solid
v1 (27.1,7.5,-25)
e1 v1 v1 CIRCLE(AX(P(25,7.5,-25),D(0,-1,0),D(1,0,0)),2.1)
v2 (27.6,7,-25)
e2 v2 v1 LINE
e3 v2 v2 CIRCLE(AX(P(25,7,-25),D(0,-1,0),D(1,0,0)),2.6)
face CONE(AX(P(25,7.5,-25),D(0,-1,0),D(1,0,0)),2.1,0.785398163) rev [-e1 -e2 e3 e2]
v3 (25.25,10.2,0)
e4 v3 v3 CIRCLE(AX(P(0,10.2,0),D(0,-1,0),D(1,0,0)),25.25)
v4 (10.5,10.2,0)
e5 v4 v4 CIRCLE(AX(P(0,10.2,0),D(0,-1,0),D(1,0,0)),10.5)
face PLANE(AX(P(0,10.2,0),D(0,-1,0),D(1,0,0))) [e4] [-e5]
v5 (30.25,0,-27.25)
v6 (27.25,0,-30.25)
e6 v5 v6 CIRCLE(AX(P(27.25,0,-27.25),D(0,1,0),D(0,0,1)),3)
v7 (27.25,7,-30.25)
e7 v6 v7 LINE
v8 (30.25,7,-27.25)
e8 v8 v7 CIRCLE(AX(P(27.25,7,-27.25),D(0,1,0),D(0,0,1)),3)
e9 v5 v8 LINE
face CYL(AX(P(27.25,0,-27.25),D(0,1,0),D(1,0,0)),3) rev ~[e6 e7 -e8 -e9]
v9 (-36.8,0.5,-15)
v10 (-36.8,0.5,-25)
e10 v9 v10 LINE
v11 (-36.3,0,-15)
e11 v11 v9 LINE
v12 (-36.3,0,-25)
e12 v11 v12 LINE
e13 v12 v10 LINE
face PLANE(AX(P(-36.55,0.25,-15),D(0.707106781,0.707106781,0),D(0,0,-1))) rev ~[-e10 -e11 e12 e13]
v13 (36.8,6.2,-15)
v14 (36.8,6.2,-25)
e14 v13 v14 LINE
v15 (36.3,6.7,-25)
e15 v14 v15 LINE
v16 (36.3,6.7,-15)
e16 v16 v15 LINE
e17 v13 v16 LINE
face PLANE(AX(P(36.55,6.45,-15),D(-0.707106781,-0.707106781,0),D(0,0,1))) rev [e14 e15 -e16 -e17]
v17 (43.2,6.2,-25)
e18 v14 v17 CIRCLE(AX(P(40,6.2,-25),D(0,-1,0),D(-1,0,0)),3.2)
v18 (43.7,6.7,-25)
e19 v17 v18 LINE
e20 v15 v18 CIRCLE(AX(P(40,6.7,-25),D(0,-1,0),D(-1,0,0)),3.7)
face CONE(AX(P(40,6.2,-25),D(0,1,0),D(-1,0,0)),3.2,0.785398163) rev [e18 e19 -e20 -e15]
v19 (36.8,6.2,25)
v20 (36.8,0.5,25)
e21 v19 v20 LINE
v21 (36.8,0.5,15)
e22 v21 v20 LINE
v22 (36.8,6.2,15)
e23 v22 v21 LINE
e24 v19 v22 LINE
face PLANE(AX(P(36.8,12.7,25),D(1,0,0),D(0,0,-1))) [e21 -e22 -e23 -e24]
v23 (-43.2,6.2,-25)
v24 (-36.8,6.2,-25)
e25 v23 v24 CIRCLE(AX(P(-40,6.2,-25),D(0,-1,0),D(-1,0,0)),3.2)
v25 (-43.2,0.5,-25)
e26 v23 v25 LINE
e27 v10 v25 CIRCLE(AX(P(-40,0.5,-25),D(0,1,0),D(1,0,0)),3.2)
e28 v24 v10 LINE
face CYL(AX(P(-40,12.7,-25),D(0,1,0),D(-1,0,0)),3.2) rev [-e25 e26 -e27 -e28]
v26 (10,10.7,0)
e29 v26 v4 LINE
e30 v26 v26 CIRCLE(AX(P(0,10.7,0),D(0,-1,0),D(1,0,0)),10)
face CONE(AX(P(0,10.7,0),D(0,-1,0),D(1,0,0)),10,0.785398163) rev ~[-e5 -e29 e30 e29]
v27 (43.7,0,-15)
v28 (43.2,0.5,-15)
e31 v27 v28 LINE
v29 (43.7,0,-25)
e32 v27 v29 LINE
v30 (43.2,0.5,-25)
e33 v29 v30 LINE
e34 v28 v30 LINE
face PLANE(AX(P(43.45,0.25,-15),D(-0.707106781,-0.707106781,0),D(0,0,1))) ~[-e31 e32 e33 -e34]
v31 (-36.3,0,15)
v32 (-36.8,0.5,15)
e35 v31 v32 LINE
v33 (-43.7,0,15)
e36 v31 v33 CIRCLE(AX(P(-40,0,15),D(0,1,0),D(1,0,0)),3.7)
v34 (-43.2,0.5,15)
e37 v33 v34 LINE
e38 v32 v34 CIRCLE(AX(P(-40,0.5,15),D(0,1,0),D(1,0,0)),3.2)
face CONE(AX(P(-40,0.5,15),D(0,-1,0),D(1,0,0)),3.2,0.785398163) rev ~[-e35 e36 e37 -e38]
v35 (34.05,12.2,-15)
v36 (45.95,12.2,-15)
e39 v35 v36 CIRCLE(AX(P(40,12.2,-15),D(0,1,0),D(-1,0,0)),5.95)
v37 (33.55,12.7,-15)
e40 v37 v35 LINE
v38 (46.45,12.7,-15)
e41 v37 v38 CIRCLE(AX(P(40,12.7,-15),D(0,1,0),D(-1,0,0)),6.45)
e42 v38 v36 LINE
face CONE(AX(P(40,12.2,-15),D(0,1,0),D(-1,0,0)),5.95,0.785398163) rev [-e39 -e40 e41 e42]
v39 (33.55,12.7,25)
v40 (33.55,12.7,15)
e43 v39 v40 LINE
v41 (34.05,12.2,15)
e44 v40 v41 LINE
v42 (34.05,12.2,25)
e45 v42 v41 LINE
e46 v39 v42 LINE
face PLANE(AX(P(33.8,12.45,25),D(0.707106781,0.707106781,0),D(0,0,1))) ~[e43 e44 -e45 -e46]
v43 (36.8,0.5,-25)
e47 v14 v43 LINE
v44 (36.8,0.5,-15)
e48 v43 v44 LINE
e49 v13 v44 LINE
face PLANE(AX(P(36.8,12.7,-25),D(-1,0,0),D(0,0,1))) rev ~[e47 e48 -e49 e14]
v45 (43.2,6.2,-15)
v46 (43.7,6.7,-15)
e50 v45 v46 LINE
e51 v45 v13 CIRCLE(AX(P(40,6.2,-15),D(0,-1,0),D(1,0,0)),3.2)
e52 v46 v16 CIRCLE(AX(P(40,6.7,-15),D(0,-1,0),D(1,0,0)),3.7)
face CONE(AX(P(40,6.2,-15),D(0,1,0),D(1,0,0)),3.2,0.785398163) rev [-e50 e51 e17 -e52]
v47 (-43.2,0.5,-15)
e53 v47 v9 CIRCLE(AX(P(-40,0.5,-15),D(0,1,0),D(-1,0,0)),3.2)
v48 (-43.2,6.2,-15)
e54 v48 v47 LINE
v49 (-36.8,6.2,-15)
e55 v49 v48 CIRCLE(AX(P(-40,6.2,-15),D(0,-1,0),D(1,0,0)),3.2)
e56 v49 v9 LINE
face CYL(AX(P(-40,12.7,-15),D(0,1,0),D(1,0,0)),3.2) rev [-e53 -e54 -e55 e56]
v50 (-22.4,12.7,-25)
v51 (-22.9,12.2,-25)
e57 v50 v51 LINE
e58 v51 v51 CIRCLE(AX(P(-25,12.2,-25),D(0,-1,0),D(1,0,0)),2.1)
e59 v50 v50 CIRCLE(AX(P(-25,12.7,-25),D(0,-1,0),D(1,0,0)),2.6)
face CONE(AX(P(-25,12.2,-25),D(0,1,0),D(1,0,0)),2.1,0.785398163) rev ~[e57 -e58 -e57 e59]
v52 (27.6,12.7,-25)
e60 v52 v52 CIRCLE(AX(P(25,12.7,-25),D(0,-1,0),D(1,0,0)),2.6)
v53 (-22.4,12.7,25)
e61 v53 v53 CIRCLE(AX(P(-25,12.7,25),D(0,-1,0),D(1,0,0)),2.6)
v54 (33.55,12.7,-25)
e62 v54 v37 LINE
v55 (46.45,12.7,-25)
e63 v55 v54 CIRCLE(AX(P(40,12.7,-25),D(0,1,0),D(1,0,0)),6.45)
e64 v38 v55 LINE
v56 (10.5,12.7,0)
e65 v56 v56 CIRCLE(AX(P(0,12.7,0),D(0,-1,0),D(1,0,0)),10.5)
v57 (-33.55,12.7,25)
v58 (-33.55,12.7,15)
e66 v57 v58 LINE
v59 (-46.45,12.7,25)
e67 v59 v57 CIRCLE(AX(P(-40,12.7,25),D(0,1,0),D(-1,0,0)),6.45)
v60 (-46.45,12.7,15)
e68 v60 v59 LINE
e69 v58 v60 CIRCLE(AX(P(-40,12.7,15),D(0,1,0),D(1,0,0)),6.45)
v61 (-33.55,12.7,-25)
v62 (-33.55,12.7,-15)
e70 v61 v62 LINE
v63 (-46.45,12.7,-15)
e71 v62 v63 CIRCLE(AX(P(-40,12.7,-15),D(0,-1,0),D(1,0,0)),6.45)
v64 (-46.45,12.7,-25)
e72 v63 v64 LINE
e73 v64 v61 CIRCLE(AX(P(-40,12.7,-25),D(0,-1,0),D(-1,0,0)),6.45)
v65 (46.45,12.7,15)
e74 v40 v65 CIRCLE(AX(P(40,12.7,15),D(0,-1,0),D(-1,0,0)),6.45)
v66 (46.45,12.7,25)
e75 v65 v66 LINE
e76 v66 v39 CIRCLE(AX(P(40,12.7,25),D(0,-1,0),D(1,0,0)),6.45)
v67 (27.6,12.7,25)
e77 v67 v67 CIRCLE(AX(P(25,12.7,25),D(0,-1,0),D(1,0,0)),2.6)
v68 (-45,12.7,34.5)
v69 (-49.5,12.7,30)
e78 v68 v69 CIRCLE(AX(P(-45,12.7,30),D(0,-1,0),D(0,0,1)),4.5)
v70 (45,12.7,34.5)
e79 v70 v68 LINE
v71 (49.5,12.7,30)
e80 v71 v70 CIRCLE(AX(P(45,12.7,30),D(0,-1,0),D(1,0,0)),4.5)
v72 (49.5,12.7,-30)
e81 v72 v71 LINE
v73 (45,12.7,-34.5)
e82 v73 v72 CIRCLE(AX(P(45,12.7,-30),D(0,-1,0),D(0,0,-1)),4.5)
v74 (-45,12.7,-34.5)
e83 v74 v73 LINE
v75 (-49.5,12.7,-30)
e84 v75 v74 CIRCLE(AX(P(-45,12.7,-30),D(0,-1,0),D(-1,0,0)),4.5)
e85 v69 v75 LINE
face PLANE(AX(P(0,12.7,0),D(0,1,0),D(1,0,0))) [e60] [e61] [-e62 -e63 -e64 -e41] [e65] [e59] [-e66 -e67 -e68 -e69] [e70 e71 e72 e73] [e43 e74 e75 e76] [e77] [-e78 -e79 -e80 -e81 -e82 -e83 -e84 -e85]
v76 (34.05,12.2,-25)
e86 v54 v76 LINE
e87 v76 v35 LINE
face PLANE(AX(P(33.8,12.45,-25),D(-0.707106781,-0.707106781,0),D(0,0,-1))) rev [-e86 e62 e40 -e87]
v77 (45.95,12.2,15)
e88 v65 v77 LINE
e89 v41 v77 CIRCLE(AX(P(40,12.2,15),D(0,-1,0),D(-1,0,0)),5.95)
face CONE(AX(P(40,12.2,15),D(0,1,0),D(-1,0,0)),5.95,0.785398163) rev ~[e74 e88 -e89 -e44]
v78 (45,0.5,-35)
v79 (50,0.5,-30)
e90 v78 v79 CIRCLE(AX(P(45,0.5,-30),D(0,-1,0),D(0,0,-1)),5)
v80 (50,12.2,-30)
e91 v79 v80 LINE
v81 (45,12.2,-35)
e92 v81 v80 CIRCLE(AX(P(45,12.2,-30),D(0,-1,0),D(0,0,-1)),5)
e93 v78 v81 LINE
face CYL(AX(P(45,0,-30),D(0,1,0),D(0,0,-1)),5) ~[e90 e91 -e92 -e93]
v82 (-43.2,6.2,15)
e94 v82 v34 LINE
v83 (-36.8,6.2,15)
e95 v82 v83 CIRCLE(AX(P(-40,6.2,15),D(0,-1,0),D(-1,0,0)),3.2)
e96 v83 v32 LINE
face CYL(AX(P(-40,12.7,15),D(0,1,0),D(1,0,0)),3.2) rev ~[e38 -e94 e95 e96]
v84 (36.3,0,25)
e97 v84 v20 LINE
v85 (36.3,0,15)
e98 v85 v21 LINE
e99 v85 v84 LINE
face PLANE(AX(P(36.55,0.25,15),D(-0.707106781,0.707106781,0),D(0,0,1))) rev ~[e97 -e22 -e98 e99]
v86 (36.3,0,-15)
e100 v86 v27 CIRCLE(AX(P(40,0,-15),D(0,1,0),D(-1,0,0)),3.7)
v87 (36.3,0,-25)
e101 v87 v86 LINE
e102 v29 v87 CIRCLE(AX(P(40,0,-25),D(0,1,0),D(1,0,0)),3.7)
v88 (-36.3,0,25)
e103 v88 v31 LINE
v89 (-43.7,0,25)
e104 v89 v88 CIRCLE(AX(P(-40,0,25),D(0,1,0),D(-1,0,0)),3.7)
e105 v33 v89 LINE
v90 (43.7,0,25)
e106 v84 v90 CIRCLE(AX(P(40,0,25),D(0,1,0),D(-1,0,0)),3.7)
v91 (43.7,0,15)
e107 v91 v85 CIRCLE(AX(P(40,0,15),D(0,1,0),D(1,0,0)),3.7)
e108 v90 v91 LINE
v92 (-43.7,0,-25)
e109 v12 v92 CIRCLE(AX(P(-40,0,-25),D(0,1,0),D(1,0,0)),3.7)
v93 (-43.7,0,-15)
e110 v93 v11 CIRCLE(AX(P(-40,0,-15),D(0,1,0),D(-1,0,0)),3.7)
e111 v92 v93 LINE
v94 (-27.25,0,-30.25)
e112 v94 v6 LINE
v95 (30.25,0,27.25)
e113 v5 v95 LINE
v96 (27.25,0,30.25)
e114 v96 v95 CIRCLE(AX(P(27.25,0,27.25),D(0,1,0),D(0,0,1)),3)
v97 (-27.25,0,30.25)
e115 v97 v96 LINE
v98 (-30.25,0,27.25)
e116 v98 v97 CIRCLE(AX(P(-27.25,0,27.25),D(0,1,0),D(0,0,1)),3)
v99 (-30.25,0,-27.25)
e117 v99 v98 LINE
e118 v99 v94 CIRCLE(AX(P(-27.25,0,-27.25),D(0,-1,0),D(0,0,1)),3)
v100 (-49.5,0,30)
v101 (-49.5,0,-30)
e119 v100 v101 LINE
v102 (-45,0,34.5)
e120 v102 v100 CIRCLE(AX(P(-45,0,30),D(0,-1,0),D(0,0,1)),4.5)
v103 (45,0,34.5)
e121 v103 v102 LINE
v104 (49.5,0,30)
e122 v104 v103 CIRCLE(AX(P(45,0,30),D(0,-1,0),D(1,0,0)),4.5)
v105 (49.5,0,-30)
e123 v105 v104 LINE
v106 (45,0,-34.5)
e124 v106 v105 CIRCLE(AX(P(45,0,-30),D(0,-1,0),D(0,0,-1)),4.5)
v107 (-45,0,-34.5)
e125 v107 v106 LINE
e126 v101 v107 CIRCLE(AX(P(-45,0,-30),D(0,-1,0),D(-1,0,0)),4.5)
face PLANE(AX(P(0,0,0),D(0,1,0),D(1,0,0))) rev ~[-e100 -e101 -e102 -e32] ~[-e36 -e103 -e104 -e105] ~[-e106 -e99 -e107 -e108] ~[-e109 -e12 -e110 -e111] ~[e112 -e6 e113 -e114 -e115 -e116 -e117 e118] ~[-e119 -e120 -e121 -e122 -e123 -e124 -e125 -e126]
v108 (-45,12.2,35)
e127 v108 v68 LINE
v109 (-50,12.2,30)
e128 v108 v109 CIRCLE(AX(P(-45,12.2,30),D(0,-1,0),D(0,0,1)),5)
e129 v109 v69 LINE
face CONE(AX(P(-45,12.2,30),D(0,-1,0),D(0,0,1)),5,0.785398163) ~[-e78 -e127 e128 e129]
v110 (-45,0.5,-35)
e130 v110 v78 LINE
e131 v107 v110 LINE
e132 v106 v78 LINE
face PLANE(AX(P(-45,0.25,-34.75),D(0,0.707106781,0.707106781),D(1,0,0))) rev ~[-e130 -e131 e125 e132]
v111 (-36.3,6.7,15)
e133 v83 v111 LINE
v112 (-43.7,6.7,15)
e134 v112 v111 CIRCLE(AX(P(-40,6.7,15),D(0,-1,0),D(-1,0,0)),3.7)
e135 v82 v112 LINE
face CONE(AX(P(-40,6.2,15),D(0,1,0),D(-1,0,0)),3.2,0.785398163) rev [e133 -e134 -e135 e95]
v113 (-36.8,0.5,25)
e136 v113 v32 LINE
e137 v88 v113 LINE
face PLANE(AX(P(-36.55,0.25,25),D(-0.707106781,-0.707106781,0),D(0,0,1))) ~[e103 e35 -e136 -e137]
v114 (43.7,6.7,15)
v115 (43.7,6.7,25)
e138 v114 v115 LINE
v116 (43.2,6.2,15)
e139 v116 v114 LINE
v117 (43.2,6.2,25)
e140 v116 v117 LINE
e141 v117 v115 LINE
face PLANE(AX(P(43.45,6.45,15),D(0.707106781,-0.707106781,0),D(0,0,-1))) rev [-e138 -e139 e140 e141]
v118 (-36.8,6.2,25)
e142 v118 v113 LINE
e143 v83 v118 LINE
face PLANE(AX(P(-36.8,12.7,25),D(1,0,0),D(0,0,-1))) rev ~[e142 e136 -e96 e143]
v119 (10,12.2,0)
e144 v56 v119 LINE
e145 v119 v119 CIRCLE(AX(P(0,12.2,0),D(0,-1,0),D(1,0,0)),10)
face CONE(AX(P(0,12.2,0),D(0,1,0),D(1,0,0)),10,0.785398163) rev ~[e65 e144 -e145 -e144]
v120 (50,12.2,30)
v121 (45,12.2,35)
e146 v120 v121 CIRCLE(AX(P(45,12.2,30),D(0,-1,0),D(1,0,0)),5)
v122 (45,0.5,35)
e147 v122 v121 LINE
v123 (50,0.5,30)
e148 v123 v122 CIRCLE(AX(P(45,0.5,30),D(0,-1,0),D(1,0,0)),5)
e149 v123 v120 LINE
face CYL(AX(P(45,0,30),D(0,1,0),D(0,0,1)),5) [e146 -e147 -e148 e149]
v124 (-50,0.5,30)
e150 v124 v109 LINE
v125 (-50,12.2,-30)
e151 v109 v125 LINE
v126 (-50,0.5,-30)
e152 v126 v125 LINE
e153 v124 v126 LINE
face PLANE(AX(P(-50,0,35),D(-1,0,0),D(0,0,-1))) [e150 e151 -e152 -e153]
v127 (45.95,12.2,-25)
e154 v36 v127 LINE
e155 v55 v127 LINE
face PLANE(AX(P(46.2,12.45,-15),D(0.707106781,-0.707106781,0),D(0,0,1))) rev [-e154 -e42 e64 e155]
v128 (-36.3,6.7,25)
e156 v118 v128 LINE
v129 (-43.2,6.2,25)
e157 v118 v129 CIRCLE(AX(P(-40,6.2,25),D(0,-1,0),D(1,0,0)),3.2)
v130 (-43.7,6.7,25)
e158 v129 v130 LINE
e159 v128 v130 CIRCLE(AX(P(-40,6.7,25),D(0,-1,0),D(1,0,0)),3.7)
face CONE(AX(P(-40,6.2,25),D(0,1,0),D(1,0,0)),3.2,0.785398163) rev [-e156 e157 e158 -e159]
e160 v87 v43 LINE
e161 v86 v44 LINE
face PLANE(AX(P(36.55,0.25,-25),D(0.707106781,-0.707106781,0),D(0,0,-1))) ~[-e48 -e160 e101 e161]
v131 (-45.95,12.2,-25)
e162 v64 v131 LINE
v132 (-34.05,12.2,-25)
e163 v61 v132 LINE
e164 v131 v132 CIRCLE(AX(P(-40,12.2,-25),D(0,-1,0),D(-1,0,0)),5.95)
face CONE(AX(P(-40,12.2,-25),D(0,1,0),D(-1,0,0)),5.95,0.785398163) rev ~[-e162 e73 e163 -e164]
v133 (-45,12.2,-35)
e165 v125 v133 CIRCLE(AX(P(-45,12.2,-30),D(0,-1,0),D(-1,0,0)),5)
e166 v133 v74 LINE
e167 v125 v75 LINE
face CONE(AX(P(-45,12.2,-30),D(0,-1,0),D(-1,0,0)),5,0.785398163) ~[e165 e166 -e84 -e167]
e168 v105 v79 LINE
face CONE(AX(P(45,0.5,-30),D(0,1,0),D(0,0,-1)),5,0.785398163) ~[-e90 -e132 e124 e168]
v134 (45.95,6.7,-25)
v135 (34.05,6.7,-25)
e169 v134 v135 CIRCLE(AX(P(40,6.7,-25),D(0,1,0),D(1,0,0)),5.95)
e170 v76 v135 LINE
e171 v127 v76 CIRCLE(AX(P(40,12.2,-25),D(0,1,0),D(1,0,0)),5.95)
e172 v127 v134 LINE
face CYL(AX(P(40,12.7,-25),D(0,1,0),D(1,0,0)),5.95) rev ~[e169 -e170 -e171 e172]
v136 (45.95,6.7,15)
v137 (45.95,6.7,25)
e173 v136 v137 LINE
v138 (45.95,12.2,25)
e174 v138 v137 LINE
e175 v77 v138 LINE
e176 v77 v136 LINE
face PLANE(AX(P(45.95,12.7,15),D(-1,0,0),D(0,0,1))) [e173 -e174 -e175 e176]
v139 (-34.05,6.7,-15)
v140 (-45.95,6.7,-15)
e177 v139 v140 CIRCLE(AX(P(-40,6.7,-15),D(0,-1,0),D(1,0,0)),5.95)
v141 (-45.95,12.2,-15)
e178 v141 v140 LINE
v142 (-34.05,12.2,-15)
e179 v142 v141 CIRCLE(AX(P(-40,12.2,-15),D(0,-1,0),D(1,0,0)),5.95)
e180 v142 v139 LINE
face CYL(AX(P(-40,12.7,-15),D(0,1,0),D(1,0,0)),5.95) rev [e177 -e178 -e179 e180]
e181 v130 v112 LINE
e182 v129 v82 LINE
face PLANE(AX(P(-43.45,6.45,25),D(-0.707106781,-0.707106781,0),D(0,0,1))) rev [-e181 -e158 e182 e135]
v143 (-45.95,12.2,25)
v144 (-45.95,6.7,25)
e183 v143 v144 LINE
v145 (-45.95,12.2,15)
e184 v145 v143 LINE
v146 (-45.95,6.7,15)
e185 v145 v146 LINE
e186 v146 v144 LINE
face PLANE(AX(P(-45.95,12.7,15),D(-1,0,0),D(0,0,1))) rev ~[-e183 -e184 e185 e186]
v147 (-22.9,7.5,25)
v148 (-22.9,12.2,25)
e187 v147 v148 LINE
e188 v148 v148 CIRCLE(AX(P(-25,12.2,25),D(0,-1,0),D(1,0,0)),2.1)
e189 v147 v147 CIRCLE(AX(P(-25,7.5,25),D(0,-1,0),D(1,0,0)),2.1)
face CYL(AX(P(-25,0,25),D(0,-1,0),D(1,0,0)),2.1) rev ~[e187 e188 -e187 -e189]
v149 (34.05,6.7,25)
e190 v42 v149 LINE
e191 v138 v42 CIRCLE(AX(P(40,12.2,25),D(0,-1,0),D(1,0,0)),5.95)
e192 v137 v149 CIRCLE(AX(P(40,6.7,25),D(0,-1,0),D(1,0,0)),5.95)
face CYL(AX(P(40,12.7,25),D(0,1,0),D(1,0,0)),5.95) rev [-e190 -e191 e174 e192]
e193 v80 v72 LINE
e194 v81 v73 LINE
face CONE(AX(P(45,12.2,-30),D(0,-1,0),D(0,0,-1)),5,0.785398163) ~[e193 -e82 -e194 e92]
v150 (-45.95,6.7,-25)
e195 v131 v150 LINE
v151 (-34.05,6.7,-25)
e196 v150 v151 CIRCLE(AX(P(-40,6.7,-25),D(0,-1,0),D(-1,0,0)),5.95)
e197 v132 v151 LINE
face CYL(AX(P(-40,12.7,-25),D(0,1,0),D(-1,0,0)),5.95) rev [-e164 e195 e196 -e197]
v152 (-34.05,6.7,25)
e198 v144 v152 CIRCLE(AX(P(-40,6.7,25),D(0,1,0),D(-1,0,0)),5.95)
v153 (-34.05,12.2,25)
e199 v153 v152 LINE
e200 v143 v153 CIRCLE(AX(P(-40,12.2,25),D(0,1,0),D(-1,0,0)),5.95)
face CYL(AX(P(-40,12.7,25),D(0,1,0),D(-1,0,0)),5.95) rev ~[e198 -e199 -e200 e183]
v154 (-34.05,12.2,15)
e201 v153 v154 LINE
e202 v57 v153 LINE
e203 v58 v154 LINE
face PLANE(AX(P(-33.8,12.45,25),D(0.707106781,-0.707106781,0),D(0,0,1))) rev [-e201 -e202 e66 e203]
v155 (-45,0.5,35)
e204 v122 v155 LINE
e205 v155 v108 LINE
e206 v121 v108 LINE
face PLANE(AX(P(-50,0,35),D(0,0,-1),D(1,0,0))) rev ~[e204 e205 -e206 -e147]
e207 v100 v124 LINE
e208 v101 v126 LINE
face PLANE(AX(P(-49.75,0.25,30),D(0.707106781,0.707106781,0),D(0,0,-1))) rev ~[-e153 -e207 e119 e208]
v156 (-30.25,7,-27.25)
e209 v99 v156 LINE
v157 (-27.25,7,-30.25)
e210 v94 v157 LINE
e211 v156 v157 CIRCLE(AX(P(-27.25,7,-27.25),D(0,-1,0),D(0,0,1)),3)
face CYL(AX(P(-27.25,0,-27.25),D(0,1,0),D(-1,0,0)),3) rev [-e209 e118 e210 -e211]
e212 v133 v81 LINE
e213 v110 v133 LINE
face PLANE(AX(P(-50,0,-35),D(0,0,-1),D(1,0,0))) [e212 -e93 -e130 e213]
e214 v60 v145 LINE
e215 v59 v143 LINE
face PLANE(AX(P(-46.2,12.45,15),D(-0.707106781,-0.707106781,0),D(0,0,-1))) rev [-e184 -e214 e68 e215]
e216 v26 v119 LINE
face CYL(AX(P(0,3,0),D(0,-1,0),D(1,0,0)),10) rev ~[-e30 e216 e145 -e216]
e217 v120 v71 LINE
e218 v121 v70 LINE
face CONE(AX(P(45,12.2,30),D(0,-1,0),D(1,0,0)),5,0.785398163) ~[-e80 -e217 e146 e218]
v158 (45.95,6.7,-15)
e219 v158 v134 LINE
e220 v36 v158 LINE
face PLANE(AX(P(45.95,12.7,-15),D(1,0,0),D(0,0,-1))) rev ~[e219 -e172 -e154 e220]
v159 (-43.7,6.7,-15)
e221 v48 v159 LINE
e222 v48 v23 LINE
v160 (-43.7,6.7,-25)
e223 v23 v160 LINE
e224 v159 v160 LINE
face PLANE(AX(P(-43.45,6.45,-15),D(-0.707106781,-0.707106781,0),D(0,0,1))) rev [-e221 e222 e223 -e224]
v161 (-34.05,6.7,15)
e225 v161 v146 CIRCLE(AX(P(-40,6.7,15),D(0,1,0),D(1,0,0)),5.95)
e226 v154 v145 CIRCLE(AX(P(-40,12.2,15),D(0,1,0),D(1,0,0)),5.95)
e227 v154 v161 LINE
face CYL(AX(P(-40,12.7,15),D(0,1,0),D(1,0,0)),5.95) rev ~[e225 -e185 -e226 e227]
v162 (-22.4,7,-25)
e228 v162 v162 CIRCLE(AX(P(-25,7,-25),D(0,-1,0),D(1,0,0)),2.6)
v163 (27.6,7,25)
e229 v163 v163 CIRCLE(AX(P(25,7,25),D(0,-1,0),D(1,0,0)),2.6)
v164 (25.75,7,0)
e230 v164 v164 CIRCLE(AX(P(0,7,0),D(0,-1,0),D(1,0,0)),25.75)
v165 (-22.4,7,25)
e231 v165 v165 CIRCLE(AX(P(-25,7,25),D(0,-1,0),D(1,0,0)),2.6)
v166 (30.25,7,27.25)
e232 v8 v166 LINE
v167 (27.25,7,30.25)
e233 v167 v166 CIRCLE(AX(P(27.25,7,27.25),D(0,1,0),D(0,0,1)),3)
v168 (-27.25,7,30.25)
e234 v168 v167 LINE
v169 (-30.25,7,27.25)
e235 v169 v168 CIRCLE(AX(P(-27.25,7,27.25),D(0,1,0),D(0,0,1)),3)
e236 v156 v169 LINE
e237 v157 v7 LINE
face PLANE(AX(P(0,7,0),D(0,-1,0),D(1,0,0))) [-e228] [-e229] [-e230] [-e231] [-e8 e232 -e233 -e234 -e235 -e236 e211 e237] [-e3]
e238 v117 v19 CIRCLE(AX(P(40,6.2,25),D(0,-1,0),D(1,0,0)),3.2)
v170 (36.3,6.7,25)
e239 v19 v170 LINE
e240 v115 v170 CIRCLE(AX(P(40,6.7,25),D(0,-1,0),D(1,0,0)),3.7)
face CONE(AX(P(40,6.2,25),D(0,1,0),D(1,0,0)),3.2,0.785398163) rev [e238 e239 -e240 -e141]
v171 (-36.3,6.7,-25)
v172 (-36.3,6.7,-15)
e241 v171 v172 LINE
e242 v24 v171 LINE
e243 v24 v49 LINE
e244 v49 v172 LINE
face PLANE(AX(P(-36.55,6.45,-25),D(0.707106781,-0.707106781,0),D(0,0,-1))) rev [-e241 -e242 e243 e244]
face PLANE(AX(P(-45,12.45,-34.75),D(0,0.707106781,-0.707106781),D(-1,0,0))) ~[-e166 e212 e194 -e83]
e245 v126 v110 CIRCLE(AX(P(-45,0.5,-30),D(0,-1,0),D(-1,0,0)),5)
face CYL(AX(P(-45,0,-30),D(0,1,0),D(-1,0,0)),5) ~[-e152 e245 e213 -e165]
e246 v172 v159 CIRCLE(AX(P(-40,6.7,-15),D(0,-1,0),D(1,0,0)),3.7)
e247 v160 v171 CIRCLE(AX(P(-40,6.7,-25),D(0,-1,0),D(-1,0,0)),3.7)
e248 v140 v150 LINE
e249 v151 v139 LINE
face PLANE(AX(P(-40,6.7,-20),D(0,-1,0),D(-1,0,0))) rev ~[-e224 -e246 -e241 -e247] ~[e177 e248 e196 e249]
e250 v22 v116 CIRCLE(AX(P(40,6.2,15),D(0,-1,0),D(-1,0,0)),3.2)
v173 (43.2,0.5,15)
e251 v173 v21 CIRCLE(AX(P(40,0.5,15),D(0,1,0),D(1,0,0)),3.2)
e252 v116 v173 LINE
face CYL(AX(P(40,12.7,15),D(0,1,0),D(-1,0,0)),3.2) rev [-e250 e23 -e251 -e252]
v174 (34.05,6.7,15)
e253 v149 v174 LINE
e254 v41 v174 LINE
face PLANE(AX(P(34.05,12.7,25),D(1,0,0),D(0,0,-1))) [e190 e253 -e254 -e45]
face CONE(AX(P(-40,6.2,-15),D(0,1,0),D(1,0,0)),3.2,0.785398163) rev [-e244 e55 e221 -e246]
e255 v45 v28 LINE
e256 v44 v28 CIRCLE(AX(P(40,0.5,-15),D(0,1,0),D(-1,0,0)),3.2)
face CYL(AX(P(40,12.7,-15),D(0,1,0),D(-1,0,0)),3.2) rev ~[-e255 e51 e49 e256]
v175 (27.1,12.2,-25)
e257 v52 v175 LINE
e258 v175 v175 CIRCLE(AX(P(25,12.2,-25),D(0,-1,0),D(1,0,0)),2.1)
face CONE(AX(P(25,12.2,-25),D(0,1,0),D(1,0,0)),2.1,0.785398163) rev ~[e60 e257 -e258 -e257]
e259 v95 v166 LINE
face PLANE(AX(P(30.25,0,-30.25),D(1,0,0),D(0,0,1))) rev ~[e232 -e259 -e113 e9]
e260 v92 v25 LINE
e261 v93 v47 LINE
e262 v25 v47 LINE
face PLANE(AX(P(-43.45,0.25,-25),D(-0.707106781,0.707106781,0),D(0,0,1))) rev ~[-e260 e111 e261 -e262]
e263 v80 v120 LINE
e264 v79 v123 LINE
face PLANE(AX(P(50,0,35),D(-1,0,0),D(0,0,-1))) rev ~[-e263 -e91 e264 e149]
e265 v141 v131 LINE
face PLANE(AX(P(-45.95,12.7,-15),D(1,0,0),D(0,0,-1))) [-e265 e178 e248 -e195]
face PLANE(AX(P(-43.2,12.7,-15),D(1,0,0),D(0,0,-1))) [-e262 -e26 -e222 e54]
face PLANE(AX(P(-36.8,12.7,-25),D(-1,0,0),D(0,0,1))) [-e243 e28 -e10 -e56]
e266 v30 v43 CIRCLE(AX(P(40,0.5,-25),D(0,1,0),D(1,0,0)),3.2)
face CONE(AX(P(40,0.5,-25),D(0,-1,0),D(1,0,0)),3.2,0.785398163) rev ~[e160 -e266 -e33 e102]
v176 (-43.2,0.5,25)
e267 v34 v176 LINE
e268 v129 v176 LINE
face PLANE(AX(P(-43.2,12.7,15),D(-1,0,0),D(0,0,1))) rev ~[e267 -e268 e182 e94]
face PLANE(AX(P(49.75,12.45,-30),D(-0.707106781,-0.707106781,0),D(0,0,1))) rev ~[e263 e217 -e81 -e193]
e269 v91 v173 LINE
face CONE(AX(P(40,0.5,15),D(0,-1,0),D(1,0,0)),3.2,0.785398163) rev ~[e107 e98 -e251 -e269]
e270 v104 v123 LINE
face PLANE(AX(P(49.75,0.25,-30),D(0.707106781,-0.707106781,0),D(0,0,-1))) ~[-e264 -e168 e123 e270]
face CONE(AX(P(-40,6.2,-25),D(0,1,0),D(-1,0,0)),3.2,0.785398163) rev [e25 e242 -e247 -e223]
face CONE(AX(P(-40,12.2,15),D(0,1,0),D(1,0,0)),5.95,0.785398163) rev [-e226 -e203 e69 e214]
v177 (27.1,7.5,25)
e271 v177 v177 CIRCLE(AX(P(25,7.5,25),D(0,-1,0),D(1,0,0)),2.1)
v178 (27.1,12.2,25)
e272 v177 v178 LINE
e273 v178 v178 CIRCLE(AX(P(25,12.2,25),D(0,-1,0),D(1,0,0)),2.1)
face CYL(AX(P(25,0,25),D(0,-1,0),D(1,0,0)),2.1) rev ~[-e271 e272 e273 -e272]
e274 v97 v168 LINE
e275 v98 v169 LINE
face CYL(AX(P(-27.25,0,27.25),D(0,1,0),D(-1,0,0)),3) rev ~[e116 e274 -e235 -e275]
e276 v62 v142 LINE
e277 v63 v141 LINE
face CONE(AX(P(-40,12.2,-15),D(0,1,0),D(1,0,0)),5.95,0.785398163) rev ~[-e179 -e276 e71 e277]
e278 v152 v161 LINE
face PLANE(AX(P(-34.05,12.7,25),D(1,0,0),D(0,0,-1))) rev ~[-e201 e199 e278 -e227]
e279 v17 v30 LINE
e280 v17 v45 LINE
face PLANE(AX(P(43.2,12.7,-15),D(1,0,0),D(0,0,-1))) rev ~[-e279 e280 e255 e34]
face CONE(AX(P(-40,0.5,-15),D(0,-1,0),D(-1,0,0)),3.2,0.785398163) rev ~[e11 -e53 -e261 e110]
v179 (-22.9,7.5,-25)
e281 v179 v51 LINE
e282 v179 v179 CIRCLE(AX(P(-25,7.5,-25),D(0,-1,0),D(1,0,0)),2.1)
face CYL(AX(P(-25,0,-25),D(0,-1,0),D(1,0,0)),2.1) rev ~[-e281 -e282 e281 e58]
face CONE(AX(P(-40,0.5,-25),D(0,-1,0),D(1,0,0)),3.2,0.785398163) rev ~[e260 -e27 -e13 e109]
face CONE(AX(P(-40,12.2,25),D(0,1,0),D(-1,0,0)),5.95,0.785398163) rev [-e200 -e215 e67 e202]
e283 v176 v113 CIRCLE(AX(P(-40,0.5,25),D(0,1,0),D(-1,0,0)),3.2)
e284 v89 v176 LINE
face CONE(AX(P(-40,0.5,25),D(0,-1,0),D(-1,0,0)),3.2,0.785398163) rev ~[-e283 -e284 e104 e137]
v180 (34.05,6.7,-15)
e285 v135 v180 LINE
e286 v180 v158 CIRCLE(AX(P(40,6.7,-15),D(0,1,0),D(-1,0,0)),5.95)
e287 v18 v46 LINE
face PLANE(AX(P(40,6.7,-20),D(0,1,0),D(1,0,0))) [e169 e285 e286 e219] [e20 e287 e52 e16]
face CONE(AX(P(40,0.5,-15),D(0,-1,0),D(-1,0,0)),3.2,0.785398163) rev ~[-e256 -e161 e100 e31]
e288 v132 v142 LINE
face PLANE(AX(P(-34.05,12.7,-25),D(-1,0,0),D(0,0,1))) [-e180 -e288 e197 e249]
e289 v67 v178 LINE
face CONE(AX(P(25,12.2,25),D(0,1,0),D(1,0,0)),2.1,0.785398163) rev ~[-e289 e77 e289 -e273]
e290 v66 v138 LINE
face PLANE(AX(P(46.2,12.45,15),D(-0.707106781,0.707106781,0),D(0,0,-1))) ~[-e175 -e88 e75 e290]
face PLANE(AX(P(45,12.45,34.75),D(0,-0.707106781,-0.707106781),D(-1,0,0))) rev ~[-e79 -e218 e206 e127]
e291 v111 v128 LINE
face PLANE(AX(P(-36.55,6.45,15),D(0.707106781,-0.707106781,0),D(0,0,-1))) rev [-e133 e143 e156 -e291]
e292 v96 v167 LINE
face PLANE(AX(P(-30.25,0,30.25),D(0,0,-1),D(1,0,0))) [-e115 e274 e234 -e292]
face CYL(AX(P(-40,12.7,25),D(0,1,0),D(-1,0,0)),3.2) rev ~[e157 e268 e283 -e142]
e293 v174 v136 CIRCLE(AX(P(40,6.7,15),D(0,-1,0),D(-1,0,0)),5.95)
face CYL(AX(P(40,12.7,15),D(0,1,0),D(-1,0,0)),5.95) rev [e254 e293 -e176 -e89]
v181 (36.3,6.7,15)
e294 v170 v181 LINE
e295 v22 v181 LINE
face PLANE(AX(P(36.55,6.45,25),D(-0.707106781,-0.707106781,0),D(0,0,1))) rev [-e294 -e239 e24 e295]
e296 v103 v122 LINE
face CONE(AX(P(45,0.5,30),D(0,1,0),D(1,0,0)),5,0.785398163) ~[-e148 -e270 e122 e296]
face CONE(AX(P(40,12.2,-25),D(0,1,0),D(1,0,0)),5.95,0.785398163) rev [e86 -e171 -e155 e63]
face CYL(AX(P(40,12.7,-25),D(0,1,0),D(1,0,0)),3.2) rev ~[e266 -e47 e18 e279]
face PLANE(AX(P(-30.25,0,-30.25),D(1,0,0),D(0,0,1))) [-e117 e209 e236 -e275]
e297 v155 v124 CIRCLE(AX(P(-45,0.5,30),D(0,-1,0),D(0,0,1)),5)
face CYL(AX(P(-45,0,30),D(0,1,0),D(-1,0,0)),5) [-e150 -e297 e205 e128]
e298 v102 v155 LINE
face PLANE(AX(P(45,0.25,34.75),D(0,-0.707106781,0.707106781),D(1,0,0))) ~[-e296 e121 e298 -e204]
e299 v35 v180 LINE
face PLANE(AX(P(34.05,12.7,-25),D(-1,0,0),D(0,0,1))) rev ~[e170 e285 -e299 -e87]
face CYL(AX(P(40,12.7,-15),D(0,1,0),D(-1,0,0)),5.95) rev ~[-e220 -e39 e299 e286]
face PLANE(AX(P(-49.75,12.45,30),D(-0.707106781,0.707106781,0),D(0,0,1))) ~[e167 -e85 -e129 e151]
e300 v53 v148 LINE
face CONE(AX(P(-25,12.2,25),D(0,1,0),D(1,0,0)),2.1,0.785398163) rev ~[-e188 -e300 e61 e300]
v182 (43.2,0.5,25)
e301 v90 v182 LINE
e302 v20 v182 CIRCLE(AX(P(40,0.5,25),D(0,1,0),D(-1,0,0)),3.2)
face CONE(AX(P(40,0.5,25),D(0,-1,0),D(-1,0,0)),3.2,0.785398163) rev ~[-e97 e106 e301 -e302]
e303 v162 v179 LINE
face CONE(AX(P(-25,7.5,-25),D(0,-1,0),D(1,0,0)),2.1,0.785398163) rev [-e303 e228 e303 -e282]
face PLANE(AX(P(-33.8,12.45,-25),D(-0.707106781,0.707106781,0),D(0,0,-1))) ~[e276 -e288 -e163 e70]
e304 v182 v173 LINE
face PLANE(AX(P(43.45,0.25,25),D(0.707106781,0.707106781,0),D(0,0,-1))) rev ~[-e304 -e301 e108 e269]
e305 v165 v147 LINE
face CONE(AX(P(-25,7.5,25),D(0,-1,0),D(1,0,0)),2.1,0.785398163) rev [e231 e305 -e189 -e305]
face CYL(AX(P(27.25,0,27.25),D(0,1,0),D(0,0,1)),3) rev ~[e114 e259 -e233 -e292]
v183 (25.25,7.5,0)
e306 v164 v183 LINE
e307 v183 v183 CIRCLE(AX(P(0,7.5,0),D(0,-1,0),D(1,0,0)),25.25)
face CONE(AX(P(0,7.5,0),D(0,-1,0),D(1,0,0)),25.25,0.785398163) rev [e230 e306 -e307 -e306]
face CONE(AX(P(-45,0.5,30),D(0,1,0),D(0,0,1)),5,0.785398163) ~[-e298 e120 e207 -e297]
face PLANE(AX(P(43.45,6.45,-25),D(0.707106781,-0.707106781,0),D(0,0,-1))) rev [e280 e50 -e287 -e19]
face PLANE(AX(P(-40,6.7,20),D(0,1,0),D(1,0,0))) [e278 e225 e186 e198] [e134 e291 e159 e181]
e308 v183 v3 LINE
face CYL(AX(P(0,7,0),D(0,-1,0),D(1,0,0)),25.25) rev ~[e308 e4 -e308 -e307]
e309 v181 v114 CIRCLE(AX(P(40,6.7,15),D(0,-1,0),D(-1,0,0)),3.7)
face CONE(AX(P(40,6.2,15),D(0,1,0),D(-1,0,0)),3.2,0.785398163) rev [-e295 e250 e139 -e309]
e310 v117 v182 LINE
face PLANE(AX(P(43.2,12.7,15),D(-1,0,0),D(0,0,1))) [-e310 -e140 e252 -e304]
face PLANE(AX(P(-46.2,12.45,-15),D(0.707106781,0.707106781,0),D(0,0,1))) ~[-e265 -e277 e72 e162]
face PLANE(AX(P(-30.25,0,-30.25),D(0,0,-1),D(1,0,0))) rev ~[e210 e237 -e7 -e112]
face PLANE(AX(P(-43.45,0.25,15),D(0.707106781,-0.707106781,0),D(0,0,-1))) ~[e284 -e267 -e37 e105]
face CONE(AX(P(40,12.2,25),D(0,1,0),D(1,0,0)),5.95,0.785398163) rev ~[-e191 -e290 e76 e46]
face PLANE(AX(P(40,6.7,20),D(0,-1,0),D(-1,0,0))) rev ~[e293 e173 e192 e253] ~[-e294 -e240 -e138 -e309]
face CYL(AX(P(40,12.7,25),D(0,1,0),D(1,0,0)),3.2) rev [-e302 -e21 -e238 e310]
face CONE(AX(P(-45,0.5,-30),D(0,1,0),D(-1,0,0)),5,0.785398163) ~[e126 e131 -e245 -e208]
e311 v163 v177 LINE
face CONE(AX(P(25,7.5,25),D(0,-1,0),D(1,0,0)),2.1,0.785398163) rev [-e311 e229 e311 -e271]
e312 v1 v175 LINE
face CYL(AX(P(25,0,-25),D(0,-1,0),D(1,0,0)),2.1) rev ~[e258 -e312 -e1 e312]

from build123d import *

# Parameters (mm, degrees)
SKETCH1_W           = 100
SKETCH1_H           = 70
BOSS_EXTRUDE1_DEPTH = 12.7
SKETCH2_R           = 25
CUT_EXTRUDE1_DEPTH  = 3
SKETCH3_R           = 10
CUT_EXTRUDE2_DEPTH  = 10.7
SKETCH4_R           = 2.1
CUT_EXTRUDE3_DEPTH  = 13.7
SKETCH5_W           = 60.5
SKETCH5_H           = 60.5
CUT_EXTRUDE4_DEPTH  = 7
FILLET1_R           = 3
FILLET2_R           = 5
CUT_EXTRUDE5_DEPTH  = 13.7
SKETCH7_R           = 25.25
CUT_EXTRUDE6_DEPTH  = 3.2
CUT_EXTRUDE7_DEPTH  = 6
CHAMFER1_SIZE       = 0.5


with BuildPart() as part:
    # Sketch1 → Boss-Extrude1 (new body)
    with BuildSketch(Plane(origin=(0, 0, 0), x_dir=(1, 0, 0), z_dir=(0, 1, 0))):
        Rectangle(SKETCH1_W, SKETCH1_H)
    extrude(amount=BOSS_EXTRUDE1_DEPTH)

    # Sketch2 → Cut-Extrude1 (cut)
    with BuildSketch(Plane.XZ):
        Circle(SKETCH2_R)
    extrude(amount=-CUT_EXTRUDE1_DEPTH, mode=Mode.SUBTRACT)

    # Sketch3 → Cut-Extrude2 (cut, through all)
    with BuildSketch(Plane.XZ.offset(-3)):
        Circle(SKETCH3_R)
    extrude(amount=-CUT_EXTRUDE2_DEPTH, mode=Mode.SUBTRACT)

    # Sketch4 → Cut-Extrude3 (cut, through all)
    with BuildSketch(Plane.XZ):
        with Locations((-25, 25)):
            Circle(SKETCH4_R)
        with Locations((25, 25)):
            Circle(SKETCH4_R)
        with Locations((25, -25)):
            Circle(SKETCH4_R)
        with Locations((-25, -25)):
            Circle(SKETCH4_R)
    extrude(amount=-CUT_EXTRUDE3_DEPTH, mode=Mode.SUBTRACT)

    # Sketch5 → Cut-Extrude4 (cut)
    with BuildSketch(Plane.XZ):
        Rectangle(SKETCH5_W, SKETCH5_H)
    extrude(amount=-CUT_EXTRUDE4_DEPTH, mode=Mode.SUBTRACT)

    # Fillet1
    fillet1_edges = [part.edges().sort_by_distance(p)[0] for p in [
        (-30.25, 3.5, -30.25),
        (-30.25, 3.5, 30.25),
        (30.25, 3.5, 30.25),
        (30.25, 3.5, -30.25),
    ]]
    fillet(fillet1_edges, radius=FILLET1_R)

    # Fillet2
    fillet2_edges = [part.edges().sort_by_distance(p)[0] for p in [
        (-50, 6.35, -35),
        (50, 6.35, -35),
        (50, 6.35, 35),
        (-50, 6.35, 35),
    ]]
    fillet(fillet2_edges, radius=FILLET2_R)

    # Sketch6 → Cut-Extrude5 (cut, through all)
    with BuildSketch(Plane(origin=(0, 12.7, 0), x_dir=(1, 0, 0), z_dir=(0, 1, 0))):
        with BuildLine():
            Line((-36.8, 25), (-36.8, 15))
            ThreePointArc((-36.8, 15), (-40, 11.8), (-43.2, 15))
            Line((-43.2, 15), (-43.2, 25))
            ThreePointArc((-43.2, 25), (-40, 28.2), (-36.8, 25))
        make_face()
        with BuildLine():
            Line((-36.8, -25), (-36.8, -15))
            ThreePointArc((-36.8, -15), (-40, -11.8), (-43.2, -15))
            Line((-43.2, -15), (-43.2, -25))
            ThreePointArc((-43.2, -25), (-40, -28.2), (-36.8, -25))
        make_face()
        with BuildLine():
            Line((36.8, -25), (36.8, -15))
            ThreePointArc((36.8, -15), (40, -11.8), (43.2, -15))
            Line((43.2, -15), (43.2, -25))
            ThreePointArc((43.2, -25), (40, -28.2), (36.8, -25))
        make_face()
        with BuildLine():
            Line((36.8, 25), (36.8, 15))
            ThreePointArc((36.8, 15), (40, 11.8), (43.2, 15))
            Line((43.2, 15), (43.2, 25))
            ThreePointArc((43.2, 25), (40, 28.2), (36.8, 25))
        make_face()
    extrude(amount=-CUT_EXTRUDE5_DEPTH, mode=Mode.SUBTRACT)

    # Sketch7 → Cut-Extrude6 (cut)
    with BuildSketch(Plane.XZ.offset(-7)):
        Circle(SKETCH7_R)
    extrude(amount=-CUT_EXTRUDE6_DEPTH, mode=Mode.SUBTRACT)

    # Sketch9 → Cut-Extrude7 (cut)
    with BuildSketch(Plane(origin=(0, 12.7, 0), x_dir=(1, 0, 0), z_dir=(0, 1, 0))):
        with BuildLine():
            Line((45.95, 15), (45.95, 25))
            ThreePointArc((45.95, 25), (40, 30.95), (34.05, 25))
            Line((34.05, 25), (34.05, 15))
            ThreePointArc((34.05, 15), (40, 9.05), (45.95, 15))
        make_face()
        with BuildLine():
            Line((34.05, -25), (34.05, -15))
            ThreePointArc((34.05, -15), (40, -9.05), (45.95, -15))
            Line((45.95, -15), (45.95, -25))
            ThreePointArc((45.95, -25), (40, -30.95), (34.05, -25))
        make_face()
        with BuildLine():
            Line((-45.95, -15), (-45.95, -25))
            ThreePointArc((-45.95, -25), (-40, -30.95), (-34.05, -25))
            Line((-34.05, -25), (-34.05, -15))
            ThreePointArc((-34.05, -15), (-40, -9.05), (-45.95, -15))
        make_face()
        with BuildLine():
            Line((-34.05, 25), (-34.05, 15))
            ThreePointArc((-34.05, 15), (-40, 9.05), (-45.95, 15))
            Line((-45.95, 15), (-45.95, 25))
            ThreePointArc((-45.95, 25), (-40, 30.95), (-34.05, 25))
        make_face()
    extrude(amount=-CUT_EXTRUDE7_DEPTH, mode=Mode.SUBTRACT)

    # Chamfer1
    chamfer1_edges = [part.edges().sort_by_distance(p)[0] for p in [
        (40, 0, -28.2),
        (43.2, 0, -20),
        (40, 0, -11.8),
        (36.8, 0, -20),
        (40, 0, 28.2),
        (36.8, 0, 20),
        (40, 0, 11.8),
        (43.2, 0, 20),
        (-40, 0, 28.2),
        (-43.2, 0, 20),
        (-40, 0, 11.8),
        (-36.8, 0, 20),
        (-40, 0, -28.2),
        (-36.8, 0, -20),
        (-40, 0, -11.8),
        (-43.2, 0, -20),
        (-25.25, 7, 0),
        (-10, 10.2, 0),
        (36.8, 6.7, -20),
        (43.2, 6.7, 20),
        (-36.8, 6.7, 20),
        (-43.2, 6.7, -20),
        (-10, 12.7, 0),
        (40, 12.7, -9.05),
        (45.95, 12.7, -20),
        (40, 12.7, -30.95),
        (34.05, 12.7, -20),
        (40, 6.7, -28.2),
        (43.2, 6.7, -20),
        (40, 6.7, -11.8),
        (-36.8, 6.7, -20),
        (-40, 6.7, -28.2),
        (-40, 6.7, -11.8),
        (-40, 12.7, -30.95),
        (-45.95, 12.7, -20),
        (-40, 12.7, -9.05),
        (-34.05, 12.7, -20),
        (-40, 12.7, 9.05),
        (-45.95, 12.7, 20),
        (-40, 12.7, 30.95),
        (-34.05, 12.7, 20),
        (-40, 6.7, 28.2),
        (-43.2, 6.7, 20),
        (-40, 6.7, 11.8),
        (36.8, 6.7, 20),
        (40, 6.7, 28.2),
        (40, 6.7, 11.8),
        (40, 12.7, 30.95),
        (45.95, 12.7, 20),
        (40, 12.7, 9.05),
        (34.05, 12.7, 20),
        (-27.1, 12.7, -25),
        (22.9, 12.7, -25),
        (22.9, 12.7, 25),
        (-27.1, 12.7, 25),
        (-27.1, 7, 25),
        (22.9, 7, 25),
        (22.9, 7, -25),
        (-27.1, 7, -25),
        (-50, 0, 0),
        (-50, 12.7, 0),
        (0, 0, -35),
        (50, 0, 0),
        (0, 0, 35),
        (48.535533906, 0, 33.535533906),
        (-48.535533906, 0, 33.535533906),
        (48.535533906, 0, -33.535533906),
        (-48.535533906, 0, -33.535533906),
        (0, 12.7, -35),
        (0, 12.7, 35),
        (50, 12.7, 0),
        (48.535533906, 12.7, 33.535533906),
        (-48.535533906, 12.7, 33.535533906),
        (48.535533906, 12.7, -33.535533906),
        (-48.535533906, 12.7, -33.535533906),
    ]]
    chamfer(chamfer1_edges, length=CHAMFER1_SIZE)


solid = part.part
